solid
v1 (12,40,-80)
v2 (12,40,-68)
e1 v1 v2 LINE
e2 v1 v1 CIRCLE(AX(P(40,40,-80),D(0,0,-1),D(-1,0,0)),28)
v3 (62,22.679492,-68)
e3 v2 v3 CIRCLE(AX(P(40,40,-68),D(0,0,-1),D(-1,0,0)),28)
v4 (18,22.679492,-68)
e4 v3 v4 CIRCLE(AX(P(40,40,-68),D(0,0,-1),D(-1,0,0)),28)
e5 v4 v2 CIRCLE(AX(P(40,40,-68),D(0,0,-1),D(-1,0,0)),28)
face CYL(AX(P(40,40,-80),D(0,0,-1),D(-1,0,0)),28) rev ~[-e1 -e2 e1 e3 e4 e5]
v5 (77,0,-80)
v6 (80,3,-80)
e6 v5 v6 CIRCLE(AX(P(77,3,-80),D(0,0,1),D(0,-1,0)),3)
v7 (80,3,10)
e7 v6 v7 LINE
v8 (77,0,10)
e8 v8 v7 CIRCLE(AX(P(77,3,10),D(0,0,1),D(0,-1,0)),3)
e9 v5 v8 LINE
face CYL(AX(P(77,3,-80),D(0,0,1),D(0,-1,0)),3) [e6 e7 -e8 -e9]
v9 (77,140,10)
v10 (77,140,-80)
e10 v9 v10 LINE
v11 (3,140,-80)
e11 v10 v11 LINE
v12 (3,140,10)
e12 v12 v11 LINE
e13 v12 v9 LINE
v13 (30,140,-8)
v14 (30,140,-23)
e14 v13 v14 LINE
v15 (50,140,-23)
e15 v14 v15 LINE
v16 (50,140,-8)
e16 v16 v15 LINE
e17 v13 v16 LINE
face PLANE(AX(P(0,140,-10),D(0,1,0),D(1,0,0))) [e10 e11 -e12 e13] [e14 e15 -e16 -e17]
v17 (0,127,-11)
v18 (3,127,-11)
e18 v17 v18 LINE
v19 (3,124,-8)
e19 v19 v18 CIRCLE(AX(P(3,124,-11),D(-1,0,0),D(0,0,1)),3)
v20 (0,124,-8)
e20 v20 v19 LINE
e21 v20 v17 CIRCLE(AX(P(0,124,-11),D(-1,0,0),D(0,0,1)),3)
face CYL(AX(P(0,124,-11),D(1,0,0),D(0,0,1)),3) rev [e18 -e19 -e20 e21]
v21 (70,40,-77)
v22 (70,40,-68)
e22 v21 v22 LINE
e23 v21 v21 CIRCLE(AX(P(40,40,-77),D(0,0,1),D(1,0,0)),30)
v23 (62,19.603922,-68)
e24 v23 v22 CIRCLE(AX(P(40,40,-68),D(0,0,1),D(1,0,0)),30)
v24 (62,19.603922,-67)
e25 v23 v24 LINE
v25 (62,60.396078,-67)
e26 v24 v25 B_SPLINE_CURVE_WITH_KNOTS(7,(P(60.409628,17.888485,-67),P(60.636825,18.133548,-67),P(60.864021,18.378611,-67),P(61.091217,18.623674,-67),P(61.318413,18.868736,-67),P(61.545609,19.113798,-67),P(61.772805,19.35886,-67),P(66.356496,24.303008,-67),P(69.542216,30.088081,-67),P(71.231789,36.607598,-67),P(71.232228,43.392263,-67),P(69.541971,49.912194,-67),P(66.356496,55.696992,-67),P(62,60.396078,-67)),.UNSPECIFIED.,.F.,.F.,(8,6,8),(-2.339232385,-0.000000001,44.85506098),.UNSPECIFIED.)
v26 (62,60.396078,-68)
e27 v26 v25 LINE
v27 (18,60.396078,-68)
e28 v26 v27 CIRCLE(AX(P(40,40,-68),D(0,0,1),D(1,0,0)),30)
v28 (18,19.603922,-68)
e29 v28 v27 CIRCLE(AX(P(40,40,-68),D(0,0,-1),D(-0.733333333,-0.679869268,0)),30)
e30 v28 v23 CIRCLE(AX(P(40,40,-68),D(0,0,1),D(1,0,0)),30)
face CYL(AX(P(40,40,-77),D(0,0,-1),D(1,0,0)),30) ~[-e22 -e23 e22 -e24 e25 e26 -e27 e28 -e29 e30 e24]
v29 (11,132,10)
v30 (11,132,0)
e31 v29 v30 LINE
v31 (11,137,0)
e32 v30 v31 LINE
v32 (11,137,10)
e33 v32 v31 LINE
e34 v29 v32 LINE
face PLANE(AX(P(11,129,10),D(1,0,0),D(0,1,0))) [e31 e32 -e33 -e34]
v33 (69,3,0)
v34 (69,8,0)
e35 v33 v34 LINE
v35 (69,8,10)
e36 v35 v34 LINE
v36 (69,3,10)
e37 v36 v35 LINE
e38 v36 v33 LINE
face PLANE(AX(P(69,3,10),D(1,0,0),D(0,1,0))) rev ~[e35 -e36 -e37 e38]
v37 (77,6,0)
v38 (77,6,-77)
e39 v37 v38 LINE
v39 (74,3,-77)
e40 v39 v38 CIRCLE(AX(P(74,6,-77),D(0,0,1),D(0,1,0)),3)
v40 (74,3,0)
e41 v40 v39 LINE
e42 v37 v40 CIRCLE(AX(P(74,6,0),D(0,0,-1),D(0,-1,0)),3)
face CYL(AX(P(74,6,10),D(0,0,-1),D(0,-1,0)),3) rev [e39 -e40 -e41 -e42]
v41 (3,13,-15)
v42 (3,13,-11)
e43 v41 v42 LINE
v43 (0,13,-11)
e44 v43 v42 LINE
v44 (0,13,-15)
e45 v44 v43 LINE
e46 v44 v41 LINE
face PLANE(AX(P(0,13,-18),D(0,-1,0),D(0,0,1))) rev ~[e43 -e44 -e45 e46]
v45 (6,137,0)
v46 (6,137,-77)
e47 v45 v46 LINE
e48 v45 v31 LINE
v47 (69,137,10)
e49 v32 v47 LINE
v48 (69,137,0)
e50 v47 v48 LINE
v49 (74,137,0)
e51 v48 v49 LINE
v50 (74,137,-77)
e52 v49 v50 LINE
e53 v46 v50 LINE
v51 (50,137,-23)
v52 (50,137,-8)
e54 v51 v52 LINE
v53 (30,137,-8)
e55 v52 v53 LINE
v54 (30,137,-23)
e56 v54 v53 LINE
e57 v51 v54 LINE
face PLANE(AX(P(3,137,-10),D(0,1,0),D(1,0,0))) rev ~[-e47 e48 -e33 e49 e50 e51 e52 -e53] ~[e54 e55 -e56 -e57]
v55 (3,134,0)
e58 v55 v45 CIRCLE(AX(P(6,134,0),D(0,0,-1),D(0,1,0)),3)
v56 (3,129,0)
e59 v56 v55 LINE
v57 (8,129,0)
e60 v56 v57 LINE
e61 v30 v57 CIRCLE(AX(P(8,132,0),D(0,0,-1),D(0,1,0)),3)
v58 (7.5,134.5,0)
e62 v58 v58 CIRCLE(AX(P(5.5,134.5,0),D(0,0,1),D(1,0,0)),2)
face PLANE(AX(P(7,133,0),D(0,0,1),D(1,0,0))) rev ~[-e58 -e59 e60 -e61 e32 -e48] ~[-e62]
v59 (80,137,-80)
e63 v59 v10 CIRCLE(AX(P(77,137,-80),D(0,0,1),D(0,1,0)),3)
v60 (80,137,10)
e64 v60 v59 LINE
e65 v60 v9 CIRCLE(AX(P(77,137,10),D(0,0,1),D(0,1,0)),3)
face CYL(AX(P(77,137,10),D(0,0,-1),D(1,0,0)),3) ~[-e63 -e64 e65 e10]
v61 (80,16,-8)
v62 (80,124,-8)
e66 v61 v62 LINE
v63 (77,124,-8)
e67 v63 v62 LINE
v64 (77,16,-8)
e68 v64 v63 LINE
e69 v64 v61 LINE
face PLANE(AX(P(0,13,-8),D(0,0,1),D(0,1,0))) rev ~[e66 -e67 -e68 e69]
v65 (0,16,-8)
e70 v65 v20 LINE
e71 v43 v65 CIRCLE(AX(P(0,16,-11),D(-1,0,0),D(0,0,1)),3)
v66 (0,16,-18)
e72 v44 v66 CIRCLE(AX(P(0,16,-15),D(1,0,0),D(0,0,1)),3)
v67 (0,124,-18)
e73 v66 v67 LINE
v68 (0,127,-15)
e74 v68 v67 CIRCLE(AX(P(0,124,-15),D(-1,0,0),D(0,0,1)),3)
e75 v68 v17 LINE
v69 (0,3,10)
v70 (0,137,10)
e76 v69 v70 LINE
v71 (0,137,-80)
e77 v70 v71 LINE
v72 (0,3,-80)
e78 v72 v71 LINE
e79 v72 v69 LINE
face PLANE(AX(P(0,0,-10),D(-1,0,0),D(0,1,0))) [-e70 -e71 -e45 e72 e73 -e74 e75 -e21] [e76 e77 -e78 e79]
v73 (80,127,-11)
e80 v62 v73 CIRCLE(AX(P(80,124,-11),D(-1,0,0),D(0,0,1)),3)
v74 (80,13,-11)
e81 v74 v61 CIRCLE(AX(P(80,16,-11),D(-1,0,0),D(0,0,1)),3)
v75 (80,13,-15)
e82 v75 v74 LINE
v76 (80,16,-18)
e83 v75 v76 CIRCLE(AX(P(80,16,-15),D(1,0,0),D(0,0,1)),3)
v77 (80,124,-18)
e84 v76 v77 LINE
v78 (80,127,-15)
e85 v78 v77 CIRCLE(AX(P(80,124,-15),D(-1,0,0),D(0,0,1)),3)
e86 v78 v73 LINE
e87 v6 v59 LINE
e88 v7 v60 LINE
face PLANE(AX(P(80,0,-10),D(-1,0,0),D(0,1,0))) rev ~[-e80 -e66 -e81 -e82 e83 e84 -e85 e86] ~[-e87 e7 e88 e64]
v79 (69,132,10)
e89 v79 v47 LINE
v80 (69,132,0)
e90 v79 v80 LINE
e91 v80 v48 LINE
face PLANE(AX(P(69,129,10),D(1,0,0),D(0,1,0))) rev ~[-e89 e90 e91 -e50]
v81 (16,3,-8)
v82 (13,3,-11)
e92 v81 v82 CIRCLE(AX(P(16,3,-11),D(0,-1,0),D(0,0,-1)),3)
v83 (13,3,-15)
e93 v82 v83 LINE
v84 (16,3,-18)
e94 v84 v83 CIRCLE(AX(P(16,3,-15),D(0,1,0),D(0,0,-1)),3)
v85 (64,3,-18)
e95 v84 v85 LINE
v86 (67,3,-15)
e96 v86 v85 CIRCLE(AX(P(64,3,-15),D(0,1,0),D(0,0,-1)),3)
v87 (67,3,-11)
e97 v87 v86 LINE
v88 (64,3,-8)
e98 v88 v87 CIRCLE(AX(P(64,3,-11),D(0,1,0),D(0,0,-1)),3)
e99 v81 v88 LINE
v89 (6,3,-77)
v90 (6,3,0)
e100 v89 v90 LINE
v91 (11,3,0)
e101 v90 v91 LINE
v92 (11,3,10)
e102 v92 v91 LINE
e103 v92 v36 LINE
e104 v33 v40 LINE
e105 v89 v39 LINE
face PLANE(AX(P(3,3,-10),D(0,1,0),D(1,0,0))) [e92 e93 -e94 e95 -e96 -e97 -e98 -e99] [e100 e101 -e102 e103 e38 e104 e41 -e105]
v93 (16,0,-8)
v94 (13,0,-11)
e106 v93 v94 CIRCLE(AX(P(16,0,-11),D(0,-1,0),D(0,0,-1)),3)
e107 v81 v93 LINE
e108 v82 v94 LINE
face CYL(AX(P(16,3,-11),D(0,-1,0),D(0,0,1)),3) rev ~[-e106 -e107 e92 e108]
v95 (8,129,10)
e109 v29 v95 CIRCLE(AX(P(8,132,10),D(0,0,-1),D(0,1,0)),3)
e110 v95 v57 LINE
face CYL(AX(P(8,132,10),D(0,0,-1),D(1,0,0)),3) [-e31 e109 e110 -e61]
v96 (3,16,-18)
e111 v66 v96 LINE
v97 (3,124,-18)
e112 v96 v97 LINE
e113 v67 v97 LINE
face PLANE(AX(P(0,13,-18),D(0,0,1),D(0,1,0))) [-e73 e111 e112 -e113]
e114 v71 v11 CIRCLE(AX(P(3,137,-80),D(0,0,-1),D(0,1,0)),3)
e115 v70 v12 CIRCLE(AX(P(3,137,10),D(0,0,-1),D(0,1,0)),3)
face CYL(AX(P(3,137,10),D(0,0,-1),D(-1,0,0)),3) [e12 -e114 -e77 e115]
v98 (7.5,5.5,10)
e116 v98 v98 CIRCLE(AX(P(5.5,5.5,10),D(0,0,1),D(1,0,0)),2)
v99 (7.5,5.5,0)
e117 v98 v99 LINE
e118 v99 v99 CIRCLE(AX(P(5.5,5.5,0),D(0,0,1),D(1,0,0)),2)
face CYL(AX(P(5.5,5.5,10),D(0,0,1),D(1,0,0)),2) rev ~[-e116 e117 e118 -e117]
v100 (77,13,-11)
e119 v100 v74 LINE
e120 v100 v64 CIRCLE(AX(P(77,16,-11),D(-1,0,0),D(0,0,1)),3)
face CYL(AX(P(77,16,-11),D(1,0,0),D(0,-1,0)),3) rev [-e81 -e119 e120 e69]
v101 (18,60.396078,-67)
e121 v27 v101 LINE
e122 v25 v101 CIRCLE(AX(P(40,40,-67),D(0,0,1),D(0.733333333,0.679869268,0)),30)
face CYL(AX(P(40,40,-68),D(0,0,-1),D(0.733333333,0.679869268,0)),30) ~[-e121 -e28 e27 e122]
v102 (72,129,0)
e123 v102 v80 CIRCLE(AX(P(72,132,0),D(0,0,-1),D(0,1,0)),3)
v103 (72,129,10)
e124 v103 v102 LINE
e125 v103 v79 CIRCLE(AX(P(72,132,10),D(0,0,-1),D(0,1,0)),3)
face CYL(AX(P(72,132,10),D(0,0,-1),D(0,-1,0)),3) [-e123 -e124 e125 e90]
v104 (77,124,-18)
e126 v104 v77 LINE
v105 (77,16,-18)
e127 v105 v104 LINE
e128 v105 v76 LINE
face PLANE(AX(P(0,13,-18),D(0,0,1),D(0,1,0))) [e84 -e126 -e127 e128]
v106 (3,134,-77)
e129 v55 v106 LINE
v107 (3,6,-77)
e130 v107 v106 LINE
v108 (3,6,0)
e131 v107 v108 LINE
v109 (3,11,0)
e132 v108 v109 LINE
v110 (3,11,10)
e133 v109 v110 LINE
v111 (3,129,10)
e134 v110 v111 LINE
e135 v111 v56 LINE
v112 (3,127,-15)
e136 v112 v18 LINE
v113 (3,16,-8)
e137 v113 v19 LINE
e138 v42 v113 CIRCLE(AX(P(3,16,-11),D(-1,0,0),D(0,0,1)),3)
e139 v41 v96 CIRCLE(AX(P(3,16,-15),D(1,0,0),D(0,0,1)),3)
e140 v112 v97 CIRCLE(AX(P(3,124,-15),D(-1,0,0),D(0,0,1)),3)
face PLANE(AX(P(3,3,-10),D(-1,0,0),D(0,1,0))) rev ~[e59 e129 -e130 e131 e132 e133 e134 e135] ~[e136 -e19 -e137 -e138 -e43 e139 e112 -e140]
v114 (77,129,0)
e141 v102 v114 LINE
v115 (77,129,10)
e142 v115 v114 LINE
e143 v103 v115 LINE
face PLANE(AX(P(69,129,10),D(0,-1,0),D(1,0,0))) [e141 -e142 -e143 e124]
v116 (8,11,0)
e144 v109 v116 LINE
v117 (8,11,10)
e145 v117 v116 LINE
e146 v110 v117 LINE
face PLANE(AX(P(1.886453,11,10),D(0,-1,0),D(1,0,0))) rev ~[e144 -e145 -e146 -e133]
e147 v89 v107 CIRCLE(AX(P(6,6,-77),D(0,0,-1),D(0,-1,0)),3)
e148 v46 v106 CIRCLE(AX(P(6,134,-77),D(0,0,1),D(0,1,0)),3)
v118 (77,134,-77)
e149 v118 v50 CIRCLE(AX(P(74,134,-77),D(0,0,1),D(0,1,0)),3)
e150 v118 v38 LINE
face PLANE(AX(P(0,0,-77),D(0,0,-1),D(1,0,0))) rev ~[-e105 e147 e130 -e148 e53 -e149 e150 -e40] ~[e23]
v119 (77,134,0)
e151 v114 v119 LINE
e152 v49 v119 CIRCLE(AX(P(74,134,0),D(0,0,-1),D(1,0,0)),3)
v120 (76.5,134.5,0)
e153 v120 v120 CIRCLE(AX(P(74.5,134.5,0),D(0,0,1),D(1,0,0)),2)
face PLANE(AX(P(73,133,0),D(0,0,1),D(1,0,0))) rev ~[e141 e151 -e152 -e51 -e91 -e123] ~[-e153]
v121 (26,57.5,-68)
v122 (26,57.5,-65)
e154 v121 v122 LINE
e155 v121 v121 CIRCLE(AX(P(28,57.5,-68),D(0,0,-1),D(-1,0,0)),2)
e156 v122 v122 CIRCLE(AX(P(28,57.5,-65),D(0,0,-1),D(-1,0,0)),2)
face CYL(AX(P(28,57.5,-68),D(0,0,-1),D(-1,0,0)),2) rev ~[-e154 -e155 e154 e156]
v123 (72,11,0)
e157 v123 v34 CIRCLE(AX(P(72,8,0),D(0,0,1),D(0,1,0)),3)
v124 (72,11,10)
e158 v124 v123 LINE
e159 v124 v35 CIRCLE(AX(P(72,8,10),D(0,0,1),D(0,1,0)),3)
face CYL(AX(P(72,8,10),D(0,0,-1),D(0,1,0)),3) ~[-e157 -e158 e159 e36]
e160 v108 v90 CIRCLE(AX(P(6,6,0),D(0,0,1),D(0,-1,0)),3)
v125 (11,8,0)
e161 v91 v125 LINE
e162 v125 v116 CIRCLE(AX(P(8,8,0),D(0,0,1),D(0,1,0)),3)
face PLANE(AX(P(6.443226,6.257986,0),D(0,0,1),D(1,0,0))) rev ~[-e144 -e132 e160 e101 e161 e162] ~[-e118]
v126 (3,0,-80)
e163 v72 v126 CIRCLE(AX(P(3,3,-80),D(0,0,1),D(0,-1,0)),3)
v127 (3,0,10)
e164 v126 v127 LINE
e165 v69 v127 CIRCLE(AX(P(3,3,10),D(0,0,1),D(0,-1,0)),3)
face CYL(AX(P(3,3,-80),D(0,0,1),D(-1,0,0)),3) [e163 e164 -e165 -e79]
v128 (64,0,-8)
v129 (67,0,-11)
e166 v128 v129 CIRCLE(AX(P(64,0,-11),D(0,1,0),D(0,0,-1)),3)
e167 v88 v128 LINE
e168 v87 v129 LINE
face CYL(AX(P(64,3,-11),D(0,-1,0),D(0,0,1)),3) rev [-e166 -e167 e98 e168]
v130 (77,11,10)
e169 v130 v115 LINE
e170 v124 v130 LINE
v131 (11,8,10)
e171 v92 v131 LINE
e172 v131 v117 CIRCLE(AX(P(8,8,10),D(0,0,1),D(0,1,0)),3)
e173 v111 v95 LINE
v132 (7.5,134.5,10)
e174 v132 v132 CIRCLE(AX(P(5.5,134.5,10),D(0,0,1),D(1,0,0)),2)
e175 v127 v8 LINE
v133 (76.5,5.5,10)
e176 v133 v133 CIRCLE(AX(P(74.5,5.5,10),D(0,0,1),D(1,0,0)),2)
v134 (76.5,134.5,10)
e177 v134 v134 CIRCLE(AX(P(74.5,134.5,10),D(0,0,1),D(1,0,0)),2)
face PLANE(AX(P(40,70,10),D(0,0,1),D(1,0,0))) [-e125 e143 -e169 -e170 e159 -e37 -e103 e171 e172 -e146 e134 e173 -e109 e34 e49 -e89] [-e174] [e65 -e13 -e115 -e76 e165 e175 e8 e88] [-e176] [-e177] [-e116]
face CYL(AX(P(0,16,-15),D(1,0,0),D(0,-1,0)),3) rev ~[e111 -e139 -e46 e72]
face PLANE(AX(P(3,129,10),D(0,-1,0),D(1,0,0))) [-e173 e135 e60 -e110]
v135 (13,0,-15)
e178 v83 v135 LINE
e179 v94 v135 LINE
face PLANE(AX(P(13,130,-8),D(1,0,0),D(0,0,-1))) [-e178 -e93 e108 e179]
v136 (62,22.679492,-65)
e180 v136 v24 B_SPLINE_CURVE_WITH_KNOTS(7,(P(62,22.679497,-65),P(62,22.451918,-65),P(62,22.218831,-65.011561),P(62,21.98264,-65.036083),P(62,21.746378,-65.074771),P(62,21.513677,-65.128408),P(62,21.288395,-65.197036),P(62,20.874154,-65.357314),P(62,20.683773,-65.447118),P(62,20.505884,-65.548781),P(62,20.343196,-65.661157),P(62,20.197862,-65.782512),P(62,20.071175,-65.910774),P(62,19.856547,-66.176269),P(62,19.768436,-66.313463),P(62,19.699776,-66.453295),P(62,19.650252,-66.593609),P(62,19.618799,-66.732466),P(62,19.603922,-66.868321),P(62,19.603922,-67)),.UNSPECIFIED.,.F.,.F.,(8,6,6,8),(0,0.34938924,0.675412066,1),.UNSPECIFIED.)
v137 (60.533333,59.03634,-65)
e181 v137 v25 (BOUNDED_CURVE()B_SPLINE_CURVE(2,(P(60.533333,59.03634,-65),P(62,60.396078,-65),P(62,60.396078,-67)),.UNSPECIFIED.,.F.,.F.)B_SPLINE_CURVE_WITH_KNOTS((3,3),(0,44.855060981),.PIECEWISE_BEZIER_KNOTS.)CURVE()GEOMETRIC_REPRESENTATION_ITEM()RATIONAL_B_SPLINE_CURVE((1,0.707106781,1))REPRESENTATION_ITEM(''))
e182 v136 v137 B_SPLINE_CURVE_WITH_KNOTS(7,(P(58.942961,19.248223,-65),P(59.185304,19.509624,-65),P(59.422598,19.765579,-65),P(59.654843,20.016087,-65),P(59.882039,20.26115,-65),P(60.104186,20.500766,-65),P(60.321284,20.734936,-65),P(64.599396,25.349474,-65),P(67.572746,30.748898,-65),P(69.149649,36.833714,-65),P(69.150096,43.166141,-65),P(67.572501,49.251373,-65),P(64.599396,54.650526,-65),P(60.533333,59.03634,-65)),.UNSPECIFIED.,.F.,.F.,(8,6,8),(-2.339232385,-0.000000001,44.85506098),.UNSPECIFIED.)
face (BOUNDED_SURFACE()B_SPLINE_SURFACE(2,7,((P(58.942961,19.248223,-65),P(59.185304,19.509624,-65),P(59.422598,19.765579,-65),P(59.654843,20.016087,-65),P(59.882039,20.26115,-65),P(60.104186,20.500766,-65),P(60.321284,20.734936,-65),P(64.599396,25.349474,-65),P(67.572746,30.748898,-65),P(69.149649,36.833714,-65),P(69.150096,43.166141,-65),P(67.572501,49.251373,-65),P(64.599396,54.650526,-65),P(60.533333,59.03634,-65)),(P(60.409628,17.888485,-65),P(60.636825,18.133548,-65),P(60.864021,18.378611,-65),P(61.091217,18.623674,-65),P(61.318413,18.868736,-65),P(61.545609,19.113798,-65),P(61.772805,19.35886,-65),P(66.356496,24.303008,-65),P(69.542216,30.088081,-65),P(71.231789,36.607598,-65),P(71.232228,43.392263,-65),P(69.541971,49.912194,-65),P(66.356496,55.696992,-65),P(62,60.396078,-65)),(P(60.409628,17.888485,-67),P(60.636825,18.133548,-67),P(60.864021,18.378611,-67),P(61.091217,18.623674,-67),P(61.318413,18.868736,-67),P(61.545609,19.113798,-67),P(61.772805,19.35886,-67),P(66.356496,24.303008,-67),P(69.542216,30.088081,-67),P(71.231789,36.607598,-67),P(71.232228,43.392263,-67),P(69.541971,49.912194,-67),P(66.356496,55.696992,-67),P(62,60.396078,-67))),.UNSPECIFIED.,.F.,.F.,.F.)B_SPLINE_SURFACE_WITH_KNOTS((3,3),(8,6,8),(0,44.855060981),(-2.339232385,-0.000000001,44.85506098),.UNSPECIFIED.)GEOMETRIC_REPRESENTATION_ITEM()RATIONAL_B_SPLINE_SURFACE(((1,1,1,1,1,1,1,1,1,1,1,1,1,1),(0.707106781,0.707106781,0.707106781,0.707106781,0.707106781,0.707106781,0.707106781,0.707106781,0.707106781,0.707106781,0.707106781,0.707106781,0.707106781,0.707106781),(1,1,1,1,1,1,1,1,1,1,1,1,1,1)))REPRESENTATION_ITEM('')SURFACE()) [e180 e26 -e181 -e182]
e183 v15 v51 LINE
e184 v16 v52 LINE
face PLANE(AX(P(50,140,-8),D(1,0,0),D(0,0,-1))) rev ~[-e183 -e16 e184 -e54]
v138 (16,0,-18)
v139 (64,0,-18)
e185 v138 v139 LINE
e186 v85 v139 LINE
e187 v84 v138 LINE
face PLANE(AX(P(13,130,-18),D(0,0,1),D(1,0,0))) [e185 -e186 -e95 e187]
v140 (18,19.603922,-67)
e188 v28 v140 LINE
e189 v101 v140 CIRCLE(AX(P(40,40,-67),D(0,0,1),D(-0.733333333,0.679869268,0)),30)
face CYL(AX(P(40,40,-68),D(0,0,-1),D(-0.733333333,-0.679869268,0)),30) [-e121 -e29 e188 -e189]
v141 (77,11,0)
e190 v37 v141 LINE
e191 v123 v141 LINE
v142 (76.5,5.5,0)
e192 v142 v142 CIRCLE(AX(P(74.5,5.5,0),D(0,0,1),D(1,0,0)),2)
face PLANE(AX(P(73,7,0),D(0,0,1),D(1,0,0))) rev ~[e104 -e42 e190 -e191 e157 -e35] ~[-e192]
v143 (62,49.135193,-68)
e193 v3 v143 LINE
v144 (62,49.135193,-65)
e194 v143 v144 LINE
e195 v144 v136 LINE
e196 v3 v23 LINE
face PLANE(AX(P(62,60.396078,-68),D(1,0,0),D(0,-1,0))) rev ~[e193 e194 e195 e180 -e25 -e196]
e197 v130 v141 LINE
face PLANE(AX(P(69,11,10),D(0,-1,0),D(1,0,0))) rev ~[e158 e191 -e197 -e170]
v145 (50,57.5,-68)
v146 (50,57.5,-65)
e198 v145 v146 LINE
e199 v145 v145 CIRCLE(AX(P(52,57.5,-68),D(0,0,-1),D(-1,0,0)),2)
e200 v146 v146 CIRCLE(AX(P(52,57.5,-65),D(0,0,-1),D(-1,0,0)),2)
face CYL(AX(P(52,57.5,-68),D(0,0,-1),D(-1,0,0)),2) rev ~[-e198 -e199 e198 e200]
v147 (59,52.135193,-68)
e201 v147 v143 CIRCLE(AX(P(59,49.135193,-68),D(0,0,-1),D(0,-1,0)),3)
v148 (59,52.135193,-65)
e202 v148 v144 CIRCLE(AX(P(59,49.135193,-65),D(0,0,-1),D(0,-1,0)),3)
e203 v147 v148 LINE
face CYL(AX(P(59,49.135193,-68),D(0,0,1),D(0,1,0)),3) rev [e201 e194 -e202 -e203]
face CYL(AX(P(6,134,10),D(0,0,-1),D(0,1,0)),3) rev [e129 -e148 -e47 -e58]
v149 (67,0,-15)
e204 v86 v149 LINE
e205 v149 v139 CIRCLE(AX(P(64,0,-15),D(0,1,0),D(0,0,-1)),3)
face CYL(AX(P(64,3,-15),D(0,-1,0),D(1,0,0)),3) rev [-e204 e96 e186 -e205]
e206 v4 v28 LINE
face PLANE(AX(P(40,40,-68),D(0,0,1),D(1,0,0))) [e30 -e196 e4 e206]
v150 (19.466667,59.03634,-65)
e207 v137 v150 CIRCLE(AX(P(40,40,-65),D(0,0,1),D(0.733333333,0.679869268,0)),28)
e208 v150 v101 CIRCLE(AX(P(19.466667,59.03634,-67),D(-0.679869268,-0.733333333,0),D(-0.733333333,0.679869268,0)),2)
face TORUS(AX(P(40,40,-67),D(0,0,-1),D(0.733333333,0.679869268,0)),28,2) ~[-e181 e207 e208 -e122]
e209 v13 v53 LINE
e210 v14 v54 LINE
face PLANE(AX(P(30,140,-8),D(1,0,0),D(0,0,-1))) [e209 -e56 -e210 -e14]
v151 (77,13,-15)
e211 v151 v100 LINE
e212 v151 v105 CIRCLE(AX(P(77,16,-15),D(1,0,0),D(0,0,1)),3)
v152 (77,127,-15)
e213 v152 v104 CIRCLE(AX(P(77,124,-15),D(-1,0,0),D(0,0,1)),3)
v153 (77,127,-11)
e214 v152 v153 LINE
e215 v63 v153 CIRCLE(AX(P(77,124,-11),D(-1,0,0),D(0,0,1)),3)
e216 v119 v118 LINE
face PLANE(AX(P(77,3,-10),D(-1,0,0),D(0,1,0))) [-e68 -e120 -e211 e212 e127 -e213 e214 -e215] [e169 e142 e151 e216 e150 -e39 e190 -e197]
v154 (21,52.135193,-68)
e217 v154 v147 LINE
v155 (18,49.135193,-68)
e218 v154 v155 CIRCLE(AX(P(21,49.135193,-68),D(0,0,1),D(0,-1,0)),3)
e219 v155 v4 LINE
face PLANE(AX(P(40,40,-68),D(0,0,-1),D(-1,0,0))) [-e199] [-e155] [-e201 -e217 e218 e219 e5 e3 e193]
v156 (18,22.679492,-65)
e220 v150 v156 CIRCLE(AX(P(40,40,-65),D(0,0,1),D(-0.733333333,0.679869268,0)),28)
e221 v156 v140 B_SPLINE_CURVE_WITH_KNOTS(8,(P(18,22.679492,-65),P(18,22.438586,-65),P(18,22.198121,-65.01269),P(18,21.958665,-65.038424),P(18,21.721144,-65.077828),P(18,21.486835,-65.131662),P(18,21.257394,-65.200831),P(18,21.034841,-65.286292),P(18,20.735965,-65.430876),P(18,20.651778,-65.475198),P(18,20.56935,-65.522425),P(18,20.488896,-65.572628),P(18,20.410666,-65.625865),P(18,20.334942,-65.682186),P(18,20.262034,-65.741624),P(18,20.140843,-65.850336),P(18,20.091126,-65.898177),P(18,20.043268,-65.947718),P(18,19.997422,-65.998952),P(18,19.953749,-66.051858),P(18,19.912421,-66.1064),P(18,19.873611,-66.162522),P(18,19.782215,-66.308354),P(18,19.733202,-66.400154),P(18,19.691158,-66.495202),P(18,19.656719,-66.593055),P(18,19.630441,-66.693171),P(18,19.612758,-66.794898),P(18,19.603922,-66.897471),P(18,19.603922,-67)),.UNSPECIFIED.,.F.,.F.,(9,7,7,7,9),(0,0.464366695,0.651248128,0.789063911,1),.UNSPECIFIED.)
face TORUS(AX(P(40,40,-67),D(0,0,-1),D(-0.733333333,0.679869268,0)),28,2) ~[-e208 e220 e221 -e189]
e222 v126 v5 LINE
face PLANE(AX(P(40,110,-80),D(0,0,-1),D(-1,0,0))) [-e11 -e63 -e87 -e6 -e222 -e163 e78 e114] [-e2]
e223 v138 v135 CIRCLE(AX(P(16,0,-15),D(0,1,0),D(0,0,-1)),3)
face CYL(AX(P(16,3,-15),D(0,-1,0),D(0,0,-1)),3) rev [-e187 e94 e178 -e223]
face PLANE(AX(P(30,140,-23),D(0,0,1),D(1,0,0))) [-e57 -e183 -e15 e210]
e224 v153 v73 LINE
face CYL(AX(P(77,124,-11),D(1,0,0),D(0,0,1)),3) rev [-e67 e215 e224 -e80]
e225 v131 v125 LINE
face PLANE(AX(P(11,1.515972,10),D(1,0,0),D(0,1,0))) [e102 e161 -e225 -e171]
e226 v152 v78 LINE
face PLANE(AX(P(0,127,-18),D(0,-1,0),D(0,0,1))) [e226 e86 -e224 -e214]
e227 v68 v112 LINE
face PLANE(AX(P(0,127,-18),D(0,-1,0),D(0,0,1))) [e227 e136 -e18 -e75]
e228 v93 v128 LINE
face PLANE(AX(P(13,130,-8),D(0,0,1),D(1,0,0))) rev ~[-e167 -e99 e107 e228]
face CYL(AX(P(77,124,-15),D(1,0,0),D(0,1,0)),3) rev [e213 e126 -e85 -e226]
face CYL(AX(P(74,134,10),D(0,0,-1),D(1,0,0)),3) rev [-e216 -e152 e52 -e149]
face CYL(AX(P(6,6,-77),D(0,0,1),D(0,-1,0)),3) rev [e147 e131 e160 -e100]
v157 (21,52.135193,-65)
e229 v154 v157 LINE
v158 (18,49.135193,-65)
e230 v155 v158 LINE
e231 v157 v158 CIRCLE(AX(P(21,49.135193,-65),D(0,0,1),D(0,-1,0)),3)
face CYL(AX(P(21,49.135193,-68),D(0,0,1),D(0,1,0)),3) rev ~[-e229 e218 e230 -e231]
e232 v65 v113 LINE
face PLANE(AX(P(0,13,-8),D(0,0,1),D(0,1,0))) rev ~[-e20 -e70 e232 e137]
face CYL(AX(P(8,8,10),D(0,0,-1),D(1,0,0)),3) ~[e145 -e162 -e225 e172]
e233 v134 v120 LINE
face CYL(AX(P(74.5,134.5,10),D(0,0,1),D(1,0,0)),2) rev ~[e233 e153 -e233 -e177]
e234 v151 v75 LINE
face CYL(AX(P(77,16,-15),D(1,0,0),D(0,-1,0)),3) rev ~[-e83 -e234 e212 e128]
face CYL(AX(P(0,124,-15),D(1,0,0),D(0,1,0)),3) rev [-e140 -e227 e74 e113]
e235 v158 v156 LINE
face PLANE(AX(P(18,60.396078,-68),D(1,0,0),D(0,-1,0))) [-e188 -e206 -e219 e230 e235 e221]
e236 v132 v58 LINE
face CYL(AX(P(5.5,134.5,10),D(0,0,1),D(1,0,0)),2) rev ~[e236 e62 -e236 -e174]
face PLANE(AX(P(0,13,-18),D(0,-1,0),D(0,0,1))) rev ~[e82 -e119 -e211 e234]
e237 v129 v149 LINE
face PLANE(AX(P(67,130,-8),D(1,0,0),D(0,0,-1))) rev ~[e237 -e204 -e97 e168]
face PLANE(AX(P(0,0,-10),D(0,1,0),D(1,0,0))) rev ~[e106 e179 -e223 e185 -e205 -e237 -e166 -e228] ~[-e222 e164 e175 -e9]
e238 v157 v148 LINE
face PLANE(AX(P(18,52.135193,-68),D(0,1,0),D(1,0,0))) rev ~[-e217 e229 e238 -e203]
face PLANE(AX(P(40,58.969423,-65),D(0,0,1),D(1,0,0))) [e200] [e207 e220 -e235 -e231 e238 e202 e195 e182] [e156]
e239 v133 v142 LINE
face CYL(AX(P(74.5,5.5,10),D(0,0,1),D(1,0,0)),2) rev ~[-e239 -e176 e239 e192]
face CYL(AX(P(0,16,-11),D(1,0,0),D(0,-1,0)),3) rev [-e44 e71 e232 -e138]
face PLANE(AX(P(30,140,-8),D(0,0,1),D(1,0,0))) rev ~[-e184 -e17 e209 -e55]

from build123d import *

# Parameters (mm, degrees)
SKETCH1_W               = 80
SKETCH1_H               = 80
BOSS_EXTRUDE1_DEPTH     = 80
SHELL1_T                = -3
CUT_EXTRUDE1_REACH      = 140.564
SKETCH2_R               = 27
SKETCH3_R               = 30
SKETCH3_R_2             = 27
BOSS_EXTRUDE2_DEPTH     = 9
BOSS_EXTRUDE3_DEPTH     = 3
SKETCH5_W               = 104.199084268
SKETCH5_H               = 10
CUT_EXTRUDE2_DEPTH      = 139.564064606
CUT_EXTRUDE2_DEPTH_BACK = 139.564064606
BOSS_EXTRUDE4_DEPTH     = 3
FILLET3_R               = 3
FILLET4_R               = 2
CUT_EXTRUDE5_REACH      = 129.138
SKETCH9_R               = 2
SKETCH13_W              = 80
SKETCH13_H              = 60
BOSS_EXTRUDE6_DEPTH     = 70
SKETCH14_W              = 74
SKETCH14_H              = 60
CUT_EXTRUDE8_DEPTH      = 67
SKETCH15_W              = 80
SKETCH15_H              = 140
SKETCH15_W_2            = 74
SKETCH15_H_2            = 134
BOSS_EXTRUDE7_DEPTH     = 20
SKETCH12_R              = 28
CUT_EXTRUDE7_DEPTH      = 12
FILLET5_R               = 3
SKETCH16_W              = 9.113547255
SKETCH16_H              = 9.484027798
SKETCH16_W_2            = 8
SKETCH16_H_2            = 8
BOSS_EXTRUDE8_DEPTH     = 10
SKETCH17_W              = 10
SKETCH17_H              = 114
CUT_EXTRUDE9_DEPTH      = 181
CUT_EXTRUDE10_START     = -10
SKETCH18_W              = 54
SKETCH18_H              = 10
CUT_EXTRUDE10_DEPTH     = 171
FILLET6_R               = 3
CUT_EXTRUDE11_REACH     = 186.662
SKETCH19_R              = 2
FILLET7_R               = 3
CUT_EXTRUDE12_REACH     = 182
SKETCH20_W              = 20
SKETCH20_H              = 15


with BuildPart() as part:
    # Sketch1 → Boss-Extrude1 (new body)
    with BuildSketch(Plane(origin=(0, 0, 0), x_dir=(1, 0, 0), z_dir=(0, 1, 0))):
        with Locations((40, 40)):
            Rectangle(SKETCH1_W, SKETCH1_H)
    extrude(amount=BOSS_EXTRUDE1_DEPTH)

    # Shell1
    shell1_openings = [part.faces().sort_by_distance(p)[0] for p in [
        (40, 40, 0),
    ]]
    offset(amount=SHELL1_T, openings=shell1_openings, kind=Kind.INTERSECTION)

    # Sketch2 → Cut-Extrude1 (cut, up to next)
    with BuildSketch(Plane(origin=(0, 0, -80), x_dir=(-1, 0, 0), z_dir=(0, 0, -1)), mode=Mode.PRIVATE) as cut_extrude1_sk1:
        with Locations((-40, 40)):
            Circle(SKETCH2_R)
    cut_extrude1_tool1 = extrude(cut_extrude1_sk1.sketch, amount=-CUT_EXTRUDE1_REACH, mode=Mode.PRIVATE) & part.part
    add(cut_extrude1_tool1.solids().sort_by_distance((40, 40, -80))[0], mode=Mode.SUBTRACT)

    # Sketch3 → Boss-Extrude2 (add)
    with BuildSketch(Plane.XY.offset(-77)):
        with Locations((40, 40)):
            Circle(SKETCH3_R)
        with Locations(Location((40, 40, 0), (0, 0, 180))):
            Circle(SKETCH3_R_2, mode=Mode.SUBTRACT)
    extrude(amount=BOSS_EXTRUDE2_DEPTH)

    # Sketch4 → Boss-Extrude3 (add)
    with BuildSketch(Plane.XY.offset(-68)):
        with BuildLine():
            Line((18, 60.396078054), (18, 19.603921946))
            ThreePointArc((18, 19.603921946), (10, 40), (18, 60.396078054))
        make_face()
        with BuildLine():
            Line((62, 60.396078054), (62, 19.603921946))
            ThreePointArc((62, 19.603921946), (70, 40), (62, 60.396078054))
        make_face()
    extrude(amount=BOSS_EXTRUDE3_DEPTH)

    # Sketch5 → Cut-Extrude2 (cut, two sides)
    with BuildSketch(Plane.XZ) as cut_extrude2_sk:
        with Locations((52.099542134, -5)):
            Rectangle(SKETCH5_W, SKETCH5_H)
    extrude(amount=CUT_EXTRUDE2_DEPTH, mode=Mode.SUBTRACT)
    extrude(cut_extrude2_sk.sketch, amount=-CUT_EXTRUDE2_DEPTH_BACK, mode=Mode.SUBTRACT)

    # Sketch8 → Boss-Extrude4 (add)
    with BuildSketch(Plane.XY.offset(-68)):
        with BuildLine():
            Line((18, 60.396078054), (18, 52.135192758))
            Line((18, 52.135192758), (62, 52.135192758))
            Line((62, 52.135192758), (62, 60.396078054))
            ThreePointArc((62, 60.396078054), (40, 70), (18, 60.396078054))
        make_face()
    extrude(amount=BOSS_EXTRUDE4_DEPTH)

    # Fillet3
    fillet3_edges = [part.edges().sort_by_distance(p)[0] for p in [
        (18, 52.135192758, -66.5),
        (62, 52.135192758, -66.5),
    ]]
    fillet(fillet3_edges, radius=FILLET3_R)

    # Fillet4
    fillet4_edges = [part.edges().sort_by_distance(p)[0] for p in [
        (40, 70, -65),
    ]]
    fillet(fillet4_edges, radius=FILLET4_R)

    # Sketch9 → Cut-Extrude5 (cut, up to next)
    with BuildSketch(Plane(origin=(0, 0, -68), x_dir=(-1, 0, 0), z_dir=(0, 0, -1)), mode=Mode.PRIVATE) as cut_extrude5_sk1:
        with Locations((-52, 57.5)):
            Circle(SKETCH9_R)
    cut_extrude5_tool1 = extrude(cut_extrude5_sk1.sketch, amount=-CUT_EXTRUDE5_REACH, mode=Mode.PRIVATE) & part.part
    # Sketch9 → Cut-Extrude5 (cut, up to next)
    with BuildSketch(Plane(origin=(0, 0, -68), x_dir=(-1, 0, 0), z_dir=(0, 0, -1)), mode=Mode.PRIVATE) as cut_extrude5_sk2:
        with Locations((-28, 57.5)):
            Circle(SKETCH9_R)
    cut_extrude5_tool2 = extrude(cut_extrude5_sk2.sketch, amount=-CUT_EXTRUDE5_REACH, mode=Mode.PRIVATE) & part.part
    add(cut_extrude5_tool1.solids().sort_by_distance((52, 57.5, -68))[0], mode=Mode.SUBTRACT)
    add(cut_extrude5_tool2.solids().sort_by_distance((28, 57.5, -68))[0], mode=Mode.SUBTRACT)

    # Sketch13 → Boss-Extrude6 (add)
    with BuildSketch(Plane(origin=(0, 0, -80), x_dir=(-1, 0, 0), z_dir=(0, 0, -1))):
        with Locations((-40, 110)):
            Rectangle(SKETCH13_W, SKETCH13_H)
    extrude(amount=-BOSS_EXTRUDE6_DEPTH)

    # Sketch14 → Cut-Extrude8 (cut)
    with BuildSketch(Plane.XY.offset(-10)):
        with Locations((40, 107)):
            Rectangle(SKETCH14_W, SKETCH14_H)
    extrude(amount=-CUT_EXTRUDE8_DEPTH, mode=Mode.SUBTRACT)

    # Sketch15 → Boss-Extrude7 (add)
    with BuildSketch(Plane.XY.offset(-10)):
        with Locations((40, 70)):
            Rectangle(SKETCH15_W, SKETCH15_H)
        with Locations((40, 70)):
            Rectangle(SKETCH15_W_2, SKETCH15_H_2, mode=Mode.SUBTRACT)
    extrude(amount=BOSS_EXTRUDE7_DEPTH)

    # Sketch12 → Cut-Extrude7 (cut)
    with BuildSketch(Plane(origin=(0, 0, -80), x_dir=(-1, 0, 0), z_dir=(0, 0, -1))):
        with Locations((-40, 40)):
            Circle(SKETCH12_R)
    extrude(amount=-CUT_EXTRUDE7_DEPTH, mode=Mode.SUBTRACT)

    # Fillet5
    fillet5_edges = [part.edges().sort_by_distance(p)[0] for p in [
        (80, 140, -45),
        (0, 140, -45),
        (3, 137, -43.5),
        (77, 137, -43.5),
        (3, 3, -43.5),
        (77, 3, -43.5),
        (0, 0, -45),
        (80, 0, -45),
    ]]
    fillet(fillet5_edges, radius=FILLET5_R)

    # Sketch16 → Boss-Extrude8 (add)
    with BuildSketch(Plane.XY.offset(10)):
        with Locations((6.443226372, 6.257986101)):
            Rectangle(SKETCH16_W, SKETCH16_H)
        with Locations((73, 7)):
            Rectangle(SKETCH16_W_2, SKETCH16_H_2)
        with Locations((73, 133)):
            Rectangle(SKETCH16_W_2, SKETCH16_H_2)
        with Locations((7, 133)):
            Rectangle(SKETCH16_W_2, SKETCH16_H_2)
    extrude(amount=-BOSS_EXTRUDE8_DEPTH)

    # Sketch17 → Cut-Extrude9 (cut, through all)
    with BuildSketch(Plane.ZY):
        with Locations((-13, 70)):
            Rectangle(SKETCH17_W, SKETCH17_H)
    extrude(amount=-CUT_EXTRUDE9_DEPTH, mode=Mode.SUBTRACT)

    # Sketch18 → Cut-Extrude10 (cut, through all)
    with BuildSketch(Plane(origin=(0, 140, 0), x_dir=(1, 0, 0), z_dir=(0, 1, 0)).offset(CUT_EXTRUDE10_START)):
        with Locations((40, 13)):
            Rectangle(SKETCH18_W, SKETCH18_H)
    extrude(amount=-CUT_EXTRUDE10_DEPTH, mode=Mode.SUBTRACT)

    # Fillet6
    fillet6_edges = [part.edges().sort_by_distance(p)[0] for p in [
        (1.5, 13, -18),
        (1.5, 127, -18),
        (1.5, 127, -8),
        (1.5, 13, -8),
        (78.5, 13, -18),
        (78.5, 127, -18),
        (78.5, 127, -8),
        (78.5, 13, -8),
        (13, 1.5, -8),
        (13, 1.5, -18),
        (67, 1.5, -18),
        (67, 1.5, -8),
    ]]
    fillet(fillet6_edges, radius=FILLET6_R)

    # Sketch19 → Cut-Extrude11 (cut, up to next)
    with BuildSketch(Plane.XY.offset(10), mode=Mode.PRIVATE) as cut_extrude11_sk1:
        with Locations((5.5, 134.5)):
            Circle(SKETCH19_R)
    cut_extrude11_tool1 = extrude(cut_extrude11_sk1.sketch, amount=-CUT_EXTRUDE11_REACH, mode=Mode.PRIVATE) & part.part
    # Sketch19 → Cut-Extrude11 (cut, up to next)
    with BuildSketch(Plane.XY.offset(10), mode=Mode.PRIVATE) as cut_extrude11_sk2:
        with Locations((74.5, 134.5)):
            Circle(SKETCH19_R)
    cut_extrude11_tool2 = extrude(cut_extrude11_sk2.sketch, amount=-CUT_EXTRUDE11_REACH, mode=Mode.PRIVATE) & part.part
    # Sketch19 → Cut-Extrude11 (cut, up to next)
    with BuildSketch(Plane.XY.offset(10), mode=Mode.PRIVATE) as cut_extrude11_sk3:
        with Locations((74.5, 5.5)):
            Circle(SKETCH19_R)
    cut_extrude11_tool3 = extrude(cut_extrude11_sk3.sketch, amount=-CUT_EXTRUDE11_REACH, mode=Mode.PRIVATE) & part.part
    # Sketch19 → Cut-Extrude11 (cut, up to next)
    with BuildSketch(Plane.XY.offset(10), mode=Mode.PRIVATE) as cut_extrude11_sk4:
        with Locations((5.5, 5.5)):
            Circle(SKETCH19_R)
    cut_extrude11_tool4 = extrude(cut_extrude11_sk4.sketch, amount=-CUT_EXTRUDE11_REACH, mode=Mode.PRIVATE) & part.part
    add(cut_extrude11_tool1.solids().sort_by_distance((5.5, 134.5, 10))[0], mode=Mode.SUBTRACT)
    add(cut_extrude11_tool2.solids().sort_by_distance((74.5, 134.5, 10))[0], mode=Mode.SUBTRACT)
    add(cut_extrude11_tool3.solids().sort_by_distance((74.5, 5.5, 10))[0], mode=Mode.SUBTRACT)
    add(cut_extrude11_tool4.solids().sort_by_distance((5.5, 5.5, 10))[0], mode=Mode.SUBTRACT)

    # Fillet7
    fillet7_edges = [part.edges().sort_by_distance(p)[0] for p in [
        (11, 11, 5),
        (69, 11, 5),
        (69, 129, 5),
        (11, 129, 5),
    ]]
    fillet(fillet7_edges, radius=FILLET7_R)

    # Sketch20 → Cut-Extrude12 (cut, up to next)
    with BuildSketch(Plane(origin=(0, 140, 0), x_dir=(1, 0, 0), z_dir=(0, 1, 0)), mode=Mode.PRIVATE) as cut_extrude12_sk1:
        with Locations((40, 15.5)):
            Rectangle(SKETCH20_W, SKETCH20_H)
    cut_extrude12_tool1 = extrude(cut_extrude12_sk1.sketch, amount=-CUT_EXTRUDE12_REACH, mode=Mode.PRIVATE) & part.part
    add(cut_extrude12_tool1.solids().sort_by_distance((40, 140, -15.5))[0], mode=Mode.SUBTRACT)


solid = part.part
